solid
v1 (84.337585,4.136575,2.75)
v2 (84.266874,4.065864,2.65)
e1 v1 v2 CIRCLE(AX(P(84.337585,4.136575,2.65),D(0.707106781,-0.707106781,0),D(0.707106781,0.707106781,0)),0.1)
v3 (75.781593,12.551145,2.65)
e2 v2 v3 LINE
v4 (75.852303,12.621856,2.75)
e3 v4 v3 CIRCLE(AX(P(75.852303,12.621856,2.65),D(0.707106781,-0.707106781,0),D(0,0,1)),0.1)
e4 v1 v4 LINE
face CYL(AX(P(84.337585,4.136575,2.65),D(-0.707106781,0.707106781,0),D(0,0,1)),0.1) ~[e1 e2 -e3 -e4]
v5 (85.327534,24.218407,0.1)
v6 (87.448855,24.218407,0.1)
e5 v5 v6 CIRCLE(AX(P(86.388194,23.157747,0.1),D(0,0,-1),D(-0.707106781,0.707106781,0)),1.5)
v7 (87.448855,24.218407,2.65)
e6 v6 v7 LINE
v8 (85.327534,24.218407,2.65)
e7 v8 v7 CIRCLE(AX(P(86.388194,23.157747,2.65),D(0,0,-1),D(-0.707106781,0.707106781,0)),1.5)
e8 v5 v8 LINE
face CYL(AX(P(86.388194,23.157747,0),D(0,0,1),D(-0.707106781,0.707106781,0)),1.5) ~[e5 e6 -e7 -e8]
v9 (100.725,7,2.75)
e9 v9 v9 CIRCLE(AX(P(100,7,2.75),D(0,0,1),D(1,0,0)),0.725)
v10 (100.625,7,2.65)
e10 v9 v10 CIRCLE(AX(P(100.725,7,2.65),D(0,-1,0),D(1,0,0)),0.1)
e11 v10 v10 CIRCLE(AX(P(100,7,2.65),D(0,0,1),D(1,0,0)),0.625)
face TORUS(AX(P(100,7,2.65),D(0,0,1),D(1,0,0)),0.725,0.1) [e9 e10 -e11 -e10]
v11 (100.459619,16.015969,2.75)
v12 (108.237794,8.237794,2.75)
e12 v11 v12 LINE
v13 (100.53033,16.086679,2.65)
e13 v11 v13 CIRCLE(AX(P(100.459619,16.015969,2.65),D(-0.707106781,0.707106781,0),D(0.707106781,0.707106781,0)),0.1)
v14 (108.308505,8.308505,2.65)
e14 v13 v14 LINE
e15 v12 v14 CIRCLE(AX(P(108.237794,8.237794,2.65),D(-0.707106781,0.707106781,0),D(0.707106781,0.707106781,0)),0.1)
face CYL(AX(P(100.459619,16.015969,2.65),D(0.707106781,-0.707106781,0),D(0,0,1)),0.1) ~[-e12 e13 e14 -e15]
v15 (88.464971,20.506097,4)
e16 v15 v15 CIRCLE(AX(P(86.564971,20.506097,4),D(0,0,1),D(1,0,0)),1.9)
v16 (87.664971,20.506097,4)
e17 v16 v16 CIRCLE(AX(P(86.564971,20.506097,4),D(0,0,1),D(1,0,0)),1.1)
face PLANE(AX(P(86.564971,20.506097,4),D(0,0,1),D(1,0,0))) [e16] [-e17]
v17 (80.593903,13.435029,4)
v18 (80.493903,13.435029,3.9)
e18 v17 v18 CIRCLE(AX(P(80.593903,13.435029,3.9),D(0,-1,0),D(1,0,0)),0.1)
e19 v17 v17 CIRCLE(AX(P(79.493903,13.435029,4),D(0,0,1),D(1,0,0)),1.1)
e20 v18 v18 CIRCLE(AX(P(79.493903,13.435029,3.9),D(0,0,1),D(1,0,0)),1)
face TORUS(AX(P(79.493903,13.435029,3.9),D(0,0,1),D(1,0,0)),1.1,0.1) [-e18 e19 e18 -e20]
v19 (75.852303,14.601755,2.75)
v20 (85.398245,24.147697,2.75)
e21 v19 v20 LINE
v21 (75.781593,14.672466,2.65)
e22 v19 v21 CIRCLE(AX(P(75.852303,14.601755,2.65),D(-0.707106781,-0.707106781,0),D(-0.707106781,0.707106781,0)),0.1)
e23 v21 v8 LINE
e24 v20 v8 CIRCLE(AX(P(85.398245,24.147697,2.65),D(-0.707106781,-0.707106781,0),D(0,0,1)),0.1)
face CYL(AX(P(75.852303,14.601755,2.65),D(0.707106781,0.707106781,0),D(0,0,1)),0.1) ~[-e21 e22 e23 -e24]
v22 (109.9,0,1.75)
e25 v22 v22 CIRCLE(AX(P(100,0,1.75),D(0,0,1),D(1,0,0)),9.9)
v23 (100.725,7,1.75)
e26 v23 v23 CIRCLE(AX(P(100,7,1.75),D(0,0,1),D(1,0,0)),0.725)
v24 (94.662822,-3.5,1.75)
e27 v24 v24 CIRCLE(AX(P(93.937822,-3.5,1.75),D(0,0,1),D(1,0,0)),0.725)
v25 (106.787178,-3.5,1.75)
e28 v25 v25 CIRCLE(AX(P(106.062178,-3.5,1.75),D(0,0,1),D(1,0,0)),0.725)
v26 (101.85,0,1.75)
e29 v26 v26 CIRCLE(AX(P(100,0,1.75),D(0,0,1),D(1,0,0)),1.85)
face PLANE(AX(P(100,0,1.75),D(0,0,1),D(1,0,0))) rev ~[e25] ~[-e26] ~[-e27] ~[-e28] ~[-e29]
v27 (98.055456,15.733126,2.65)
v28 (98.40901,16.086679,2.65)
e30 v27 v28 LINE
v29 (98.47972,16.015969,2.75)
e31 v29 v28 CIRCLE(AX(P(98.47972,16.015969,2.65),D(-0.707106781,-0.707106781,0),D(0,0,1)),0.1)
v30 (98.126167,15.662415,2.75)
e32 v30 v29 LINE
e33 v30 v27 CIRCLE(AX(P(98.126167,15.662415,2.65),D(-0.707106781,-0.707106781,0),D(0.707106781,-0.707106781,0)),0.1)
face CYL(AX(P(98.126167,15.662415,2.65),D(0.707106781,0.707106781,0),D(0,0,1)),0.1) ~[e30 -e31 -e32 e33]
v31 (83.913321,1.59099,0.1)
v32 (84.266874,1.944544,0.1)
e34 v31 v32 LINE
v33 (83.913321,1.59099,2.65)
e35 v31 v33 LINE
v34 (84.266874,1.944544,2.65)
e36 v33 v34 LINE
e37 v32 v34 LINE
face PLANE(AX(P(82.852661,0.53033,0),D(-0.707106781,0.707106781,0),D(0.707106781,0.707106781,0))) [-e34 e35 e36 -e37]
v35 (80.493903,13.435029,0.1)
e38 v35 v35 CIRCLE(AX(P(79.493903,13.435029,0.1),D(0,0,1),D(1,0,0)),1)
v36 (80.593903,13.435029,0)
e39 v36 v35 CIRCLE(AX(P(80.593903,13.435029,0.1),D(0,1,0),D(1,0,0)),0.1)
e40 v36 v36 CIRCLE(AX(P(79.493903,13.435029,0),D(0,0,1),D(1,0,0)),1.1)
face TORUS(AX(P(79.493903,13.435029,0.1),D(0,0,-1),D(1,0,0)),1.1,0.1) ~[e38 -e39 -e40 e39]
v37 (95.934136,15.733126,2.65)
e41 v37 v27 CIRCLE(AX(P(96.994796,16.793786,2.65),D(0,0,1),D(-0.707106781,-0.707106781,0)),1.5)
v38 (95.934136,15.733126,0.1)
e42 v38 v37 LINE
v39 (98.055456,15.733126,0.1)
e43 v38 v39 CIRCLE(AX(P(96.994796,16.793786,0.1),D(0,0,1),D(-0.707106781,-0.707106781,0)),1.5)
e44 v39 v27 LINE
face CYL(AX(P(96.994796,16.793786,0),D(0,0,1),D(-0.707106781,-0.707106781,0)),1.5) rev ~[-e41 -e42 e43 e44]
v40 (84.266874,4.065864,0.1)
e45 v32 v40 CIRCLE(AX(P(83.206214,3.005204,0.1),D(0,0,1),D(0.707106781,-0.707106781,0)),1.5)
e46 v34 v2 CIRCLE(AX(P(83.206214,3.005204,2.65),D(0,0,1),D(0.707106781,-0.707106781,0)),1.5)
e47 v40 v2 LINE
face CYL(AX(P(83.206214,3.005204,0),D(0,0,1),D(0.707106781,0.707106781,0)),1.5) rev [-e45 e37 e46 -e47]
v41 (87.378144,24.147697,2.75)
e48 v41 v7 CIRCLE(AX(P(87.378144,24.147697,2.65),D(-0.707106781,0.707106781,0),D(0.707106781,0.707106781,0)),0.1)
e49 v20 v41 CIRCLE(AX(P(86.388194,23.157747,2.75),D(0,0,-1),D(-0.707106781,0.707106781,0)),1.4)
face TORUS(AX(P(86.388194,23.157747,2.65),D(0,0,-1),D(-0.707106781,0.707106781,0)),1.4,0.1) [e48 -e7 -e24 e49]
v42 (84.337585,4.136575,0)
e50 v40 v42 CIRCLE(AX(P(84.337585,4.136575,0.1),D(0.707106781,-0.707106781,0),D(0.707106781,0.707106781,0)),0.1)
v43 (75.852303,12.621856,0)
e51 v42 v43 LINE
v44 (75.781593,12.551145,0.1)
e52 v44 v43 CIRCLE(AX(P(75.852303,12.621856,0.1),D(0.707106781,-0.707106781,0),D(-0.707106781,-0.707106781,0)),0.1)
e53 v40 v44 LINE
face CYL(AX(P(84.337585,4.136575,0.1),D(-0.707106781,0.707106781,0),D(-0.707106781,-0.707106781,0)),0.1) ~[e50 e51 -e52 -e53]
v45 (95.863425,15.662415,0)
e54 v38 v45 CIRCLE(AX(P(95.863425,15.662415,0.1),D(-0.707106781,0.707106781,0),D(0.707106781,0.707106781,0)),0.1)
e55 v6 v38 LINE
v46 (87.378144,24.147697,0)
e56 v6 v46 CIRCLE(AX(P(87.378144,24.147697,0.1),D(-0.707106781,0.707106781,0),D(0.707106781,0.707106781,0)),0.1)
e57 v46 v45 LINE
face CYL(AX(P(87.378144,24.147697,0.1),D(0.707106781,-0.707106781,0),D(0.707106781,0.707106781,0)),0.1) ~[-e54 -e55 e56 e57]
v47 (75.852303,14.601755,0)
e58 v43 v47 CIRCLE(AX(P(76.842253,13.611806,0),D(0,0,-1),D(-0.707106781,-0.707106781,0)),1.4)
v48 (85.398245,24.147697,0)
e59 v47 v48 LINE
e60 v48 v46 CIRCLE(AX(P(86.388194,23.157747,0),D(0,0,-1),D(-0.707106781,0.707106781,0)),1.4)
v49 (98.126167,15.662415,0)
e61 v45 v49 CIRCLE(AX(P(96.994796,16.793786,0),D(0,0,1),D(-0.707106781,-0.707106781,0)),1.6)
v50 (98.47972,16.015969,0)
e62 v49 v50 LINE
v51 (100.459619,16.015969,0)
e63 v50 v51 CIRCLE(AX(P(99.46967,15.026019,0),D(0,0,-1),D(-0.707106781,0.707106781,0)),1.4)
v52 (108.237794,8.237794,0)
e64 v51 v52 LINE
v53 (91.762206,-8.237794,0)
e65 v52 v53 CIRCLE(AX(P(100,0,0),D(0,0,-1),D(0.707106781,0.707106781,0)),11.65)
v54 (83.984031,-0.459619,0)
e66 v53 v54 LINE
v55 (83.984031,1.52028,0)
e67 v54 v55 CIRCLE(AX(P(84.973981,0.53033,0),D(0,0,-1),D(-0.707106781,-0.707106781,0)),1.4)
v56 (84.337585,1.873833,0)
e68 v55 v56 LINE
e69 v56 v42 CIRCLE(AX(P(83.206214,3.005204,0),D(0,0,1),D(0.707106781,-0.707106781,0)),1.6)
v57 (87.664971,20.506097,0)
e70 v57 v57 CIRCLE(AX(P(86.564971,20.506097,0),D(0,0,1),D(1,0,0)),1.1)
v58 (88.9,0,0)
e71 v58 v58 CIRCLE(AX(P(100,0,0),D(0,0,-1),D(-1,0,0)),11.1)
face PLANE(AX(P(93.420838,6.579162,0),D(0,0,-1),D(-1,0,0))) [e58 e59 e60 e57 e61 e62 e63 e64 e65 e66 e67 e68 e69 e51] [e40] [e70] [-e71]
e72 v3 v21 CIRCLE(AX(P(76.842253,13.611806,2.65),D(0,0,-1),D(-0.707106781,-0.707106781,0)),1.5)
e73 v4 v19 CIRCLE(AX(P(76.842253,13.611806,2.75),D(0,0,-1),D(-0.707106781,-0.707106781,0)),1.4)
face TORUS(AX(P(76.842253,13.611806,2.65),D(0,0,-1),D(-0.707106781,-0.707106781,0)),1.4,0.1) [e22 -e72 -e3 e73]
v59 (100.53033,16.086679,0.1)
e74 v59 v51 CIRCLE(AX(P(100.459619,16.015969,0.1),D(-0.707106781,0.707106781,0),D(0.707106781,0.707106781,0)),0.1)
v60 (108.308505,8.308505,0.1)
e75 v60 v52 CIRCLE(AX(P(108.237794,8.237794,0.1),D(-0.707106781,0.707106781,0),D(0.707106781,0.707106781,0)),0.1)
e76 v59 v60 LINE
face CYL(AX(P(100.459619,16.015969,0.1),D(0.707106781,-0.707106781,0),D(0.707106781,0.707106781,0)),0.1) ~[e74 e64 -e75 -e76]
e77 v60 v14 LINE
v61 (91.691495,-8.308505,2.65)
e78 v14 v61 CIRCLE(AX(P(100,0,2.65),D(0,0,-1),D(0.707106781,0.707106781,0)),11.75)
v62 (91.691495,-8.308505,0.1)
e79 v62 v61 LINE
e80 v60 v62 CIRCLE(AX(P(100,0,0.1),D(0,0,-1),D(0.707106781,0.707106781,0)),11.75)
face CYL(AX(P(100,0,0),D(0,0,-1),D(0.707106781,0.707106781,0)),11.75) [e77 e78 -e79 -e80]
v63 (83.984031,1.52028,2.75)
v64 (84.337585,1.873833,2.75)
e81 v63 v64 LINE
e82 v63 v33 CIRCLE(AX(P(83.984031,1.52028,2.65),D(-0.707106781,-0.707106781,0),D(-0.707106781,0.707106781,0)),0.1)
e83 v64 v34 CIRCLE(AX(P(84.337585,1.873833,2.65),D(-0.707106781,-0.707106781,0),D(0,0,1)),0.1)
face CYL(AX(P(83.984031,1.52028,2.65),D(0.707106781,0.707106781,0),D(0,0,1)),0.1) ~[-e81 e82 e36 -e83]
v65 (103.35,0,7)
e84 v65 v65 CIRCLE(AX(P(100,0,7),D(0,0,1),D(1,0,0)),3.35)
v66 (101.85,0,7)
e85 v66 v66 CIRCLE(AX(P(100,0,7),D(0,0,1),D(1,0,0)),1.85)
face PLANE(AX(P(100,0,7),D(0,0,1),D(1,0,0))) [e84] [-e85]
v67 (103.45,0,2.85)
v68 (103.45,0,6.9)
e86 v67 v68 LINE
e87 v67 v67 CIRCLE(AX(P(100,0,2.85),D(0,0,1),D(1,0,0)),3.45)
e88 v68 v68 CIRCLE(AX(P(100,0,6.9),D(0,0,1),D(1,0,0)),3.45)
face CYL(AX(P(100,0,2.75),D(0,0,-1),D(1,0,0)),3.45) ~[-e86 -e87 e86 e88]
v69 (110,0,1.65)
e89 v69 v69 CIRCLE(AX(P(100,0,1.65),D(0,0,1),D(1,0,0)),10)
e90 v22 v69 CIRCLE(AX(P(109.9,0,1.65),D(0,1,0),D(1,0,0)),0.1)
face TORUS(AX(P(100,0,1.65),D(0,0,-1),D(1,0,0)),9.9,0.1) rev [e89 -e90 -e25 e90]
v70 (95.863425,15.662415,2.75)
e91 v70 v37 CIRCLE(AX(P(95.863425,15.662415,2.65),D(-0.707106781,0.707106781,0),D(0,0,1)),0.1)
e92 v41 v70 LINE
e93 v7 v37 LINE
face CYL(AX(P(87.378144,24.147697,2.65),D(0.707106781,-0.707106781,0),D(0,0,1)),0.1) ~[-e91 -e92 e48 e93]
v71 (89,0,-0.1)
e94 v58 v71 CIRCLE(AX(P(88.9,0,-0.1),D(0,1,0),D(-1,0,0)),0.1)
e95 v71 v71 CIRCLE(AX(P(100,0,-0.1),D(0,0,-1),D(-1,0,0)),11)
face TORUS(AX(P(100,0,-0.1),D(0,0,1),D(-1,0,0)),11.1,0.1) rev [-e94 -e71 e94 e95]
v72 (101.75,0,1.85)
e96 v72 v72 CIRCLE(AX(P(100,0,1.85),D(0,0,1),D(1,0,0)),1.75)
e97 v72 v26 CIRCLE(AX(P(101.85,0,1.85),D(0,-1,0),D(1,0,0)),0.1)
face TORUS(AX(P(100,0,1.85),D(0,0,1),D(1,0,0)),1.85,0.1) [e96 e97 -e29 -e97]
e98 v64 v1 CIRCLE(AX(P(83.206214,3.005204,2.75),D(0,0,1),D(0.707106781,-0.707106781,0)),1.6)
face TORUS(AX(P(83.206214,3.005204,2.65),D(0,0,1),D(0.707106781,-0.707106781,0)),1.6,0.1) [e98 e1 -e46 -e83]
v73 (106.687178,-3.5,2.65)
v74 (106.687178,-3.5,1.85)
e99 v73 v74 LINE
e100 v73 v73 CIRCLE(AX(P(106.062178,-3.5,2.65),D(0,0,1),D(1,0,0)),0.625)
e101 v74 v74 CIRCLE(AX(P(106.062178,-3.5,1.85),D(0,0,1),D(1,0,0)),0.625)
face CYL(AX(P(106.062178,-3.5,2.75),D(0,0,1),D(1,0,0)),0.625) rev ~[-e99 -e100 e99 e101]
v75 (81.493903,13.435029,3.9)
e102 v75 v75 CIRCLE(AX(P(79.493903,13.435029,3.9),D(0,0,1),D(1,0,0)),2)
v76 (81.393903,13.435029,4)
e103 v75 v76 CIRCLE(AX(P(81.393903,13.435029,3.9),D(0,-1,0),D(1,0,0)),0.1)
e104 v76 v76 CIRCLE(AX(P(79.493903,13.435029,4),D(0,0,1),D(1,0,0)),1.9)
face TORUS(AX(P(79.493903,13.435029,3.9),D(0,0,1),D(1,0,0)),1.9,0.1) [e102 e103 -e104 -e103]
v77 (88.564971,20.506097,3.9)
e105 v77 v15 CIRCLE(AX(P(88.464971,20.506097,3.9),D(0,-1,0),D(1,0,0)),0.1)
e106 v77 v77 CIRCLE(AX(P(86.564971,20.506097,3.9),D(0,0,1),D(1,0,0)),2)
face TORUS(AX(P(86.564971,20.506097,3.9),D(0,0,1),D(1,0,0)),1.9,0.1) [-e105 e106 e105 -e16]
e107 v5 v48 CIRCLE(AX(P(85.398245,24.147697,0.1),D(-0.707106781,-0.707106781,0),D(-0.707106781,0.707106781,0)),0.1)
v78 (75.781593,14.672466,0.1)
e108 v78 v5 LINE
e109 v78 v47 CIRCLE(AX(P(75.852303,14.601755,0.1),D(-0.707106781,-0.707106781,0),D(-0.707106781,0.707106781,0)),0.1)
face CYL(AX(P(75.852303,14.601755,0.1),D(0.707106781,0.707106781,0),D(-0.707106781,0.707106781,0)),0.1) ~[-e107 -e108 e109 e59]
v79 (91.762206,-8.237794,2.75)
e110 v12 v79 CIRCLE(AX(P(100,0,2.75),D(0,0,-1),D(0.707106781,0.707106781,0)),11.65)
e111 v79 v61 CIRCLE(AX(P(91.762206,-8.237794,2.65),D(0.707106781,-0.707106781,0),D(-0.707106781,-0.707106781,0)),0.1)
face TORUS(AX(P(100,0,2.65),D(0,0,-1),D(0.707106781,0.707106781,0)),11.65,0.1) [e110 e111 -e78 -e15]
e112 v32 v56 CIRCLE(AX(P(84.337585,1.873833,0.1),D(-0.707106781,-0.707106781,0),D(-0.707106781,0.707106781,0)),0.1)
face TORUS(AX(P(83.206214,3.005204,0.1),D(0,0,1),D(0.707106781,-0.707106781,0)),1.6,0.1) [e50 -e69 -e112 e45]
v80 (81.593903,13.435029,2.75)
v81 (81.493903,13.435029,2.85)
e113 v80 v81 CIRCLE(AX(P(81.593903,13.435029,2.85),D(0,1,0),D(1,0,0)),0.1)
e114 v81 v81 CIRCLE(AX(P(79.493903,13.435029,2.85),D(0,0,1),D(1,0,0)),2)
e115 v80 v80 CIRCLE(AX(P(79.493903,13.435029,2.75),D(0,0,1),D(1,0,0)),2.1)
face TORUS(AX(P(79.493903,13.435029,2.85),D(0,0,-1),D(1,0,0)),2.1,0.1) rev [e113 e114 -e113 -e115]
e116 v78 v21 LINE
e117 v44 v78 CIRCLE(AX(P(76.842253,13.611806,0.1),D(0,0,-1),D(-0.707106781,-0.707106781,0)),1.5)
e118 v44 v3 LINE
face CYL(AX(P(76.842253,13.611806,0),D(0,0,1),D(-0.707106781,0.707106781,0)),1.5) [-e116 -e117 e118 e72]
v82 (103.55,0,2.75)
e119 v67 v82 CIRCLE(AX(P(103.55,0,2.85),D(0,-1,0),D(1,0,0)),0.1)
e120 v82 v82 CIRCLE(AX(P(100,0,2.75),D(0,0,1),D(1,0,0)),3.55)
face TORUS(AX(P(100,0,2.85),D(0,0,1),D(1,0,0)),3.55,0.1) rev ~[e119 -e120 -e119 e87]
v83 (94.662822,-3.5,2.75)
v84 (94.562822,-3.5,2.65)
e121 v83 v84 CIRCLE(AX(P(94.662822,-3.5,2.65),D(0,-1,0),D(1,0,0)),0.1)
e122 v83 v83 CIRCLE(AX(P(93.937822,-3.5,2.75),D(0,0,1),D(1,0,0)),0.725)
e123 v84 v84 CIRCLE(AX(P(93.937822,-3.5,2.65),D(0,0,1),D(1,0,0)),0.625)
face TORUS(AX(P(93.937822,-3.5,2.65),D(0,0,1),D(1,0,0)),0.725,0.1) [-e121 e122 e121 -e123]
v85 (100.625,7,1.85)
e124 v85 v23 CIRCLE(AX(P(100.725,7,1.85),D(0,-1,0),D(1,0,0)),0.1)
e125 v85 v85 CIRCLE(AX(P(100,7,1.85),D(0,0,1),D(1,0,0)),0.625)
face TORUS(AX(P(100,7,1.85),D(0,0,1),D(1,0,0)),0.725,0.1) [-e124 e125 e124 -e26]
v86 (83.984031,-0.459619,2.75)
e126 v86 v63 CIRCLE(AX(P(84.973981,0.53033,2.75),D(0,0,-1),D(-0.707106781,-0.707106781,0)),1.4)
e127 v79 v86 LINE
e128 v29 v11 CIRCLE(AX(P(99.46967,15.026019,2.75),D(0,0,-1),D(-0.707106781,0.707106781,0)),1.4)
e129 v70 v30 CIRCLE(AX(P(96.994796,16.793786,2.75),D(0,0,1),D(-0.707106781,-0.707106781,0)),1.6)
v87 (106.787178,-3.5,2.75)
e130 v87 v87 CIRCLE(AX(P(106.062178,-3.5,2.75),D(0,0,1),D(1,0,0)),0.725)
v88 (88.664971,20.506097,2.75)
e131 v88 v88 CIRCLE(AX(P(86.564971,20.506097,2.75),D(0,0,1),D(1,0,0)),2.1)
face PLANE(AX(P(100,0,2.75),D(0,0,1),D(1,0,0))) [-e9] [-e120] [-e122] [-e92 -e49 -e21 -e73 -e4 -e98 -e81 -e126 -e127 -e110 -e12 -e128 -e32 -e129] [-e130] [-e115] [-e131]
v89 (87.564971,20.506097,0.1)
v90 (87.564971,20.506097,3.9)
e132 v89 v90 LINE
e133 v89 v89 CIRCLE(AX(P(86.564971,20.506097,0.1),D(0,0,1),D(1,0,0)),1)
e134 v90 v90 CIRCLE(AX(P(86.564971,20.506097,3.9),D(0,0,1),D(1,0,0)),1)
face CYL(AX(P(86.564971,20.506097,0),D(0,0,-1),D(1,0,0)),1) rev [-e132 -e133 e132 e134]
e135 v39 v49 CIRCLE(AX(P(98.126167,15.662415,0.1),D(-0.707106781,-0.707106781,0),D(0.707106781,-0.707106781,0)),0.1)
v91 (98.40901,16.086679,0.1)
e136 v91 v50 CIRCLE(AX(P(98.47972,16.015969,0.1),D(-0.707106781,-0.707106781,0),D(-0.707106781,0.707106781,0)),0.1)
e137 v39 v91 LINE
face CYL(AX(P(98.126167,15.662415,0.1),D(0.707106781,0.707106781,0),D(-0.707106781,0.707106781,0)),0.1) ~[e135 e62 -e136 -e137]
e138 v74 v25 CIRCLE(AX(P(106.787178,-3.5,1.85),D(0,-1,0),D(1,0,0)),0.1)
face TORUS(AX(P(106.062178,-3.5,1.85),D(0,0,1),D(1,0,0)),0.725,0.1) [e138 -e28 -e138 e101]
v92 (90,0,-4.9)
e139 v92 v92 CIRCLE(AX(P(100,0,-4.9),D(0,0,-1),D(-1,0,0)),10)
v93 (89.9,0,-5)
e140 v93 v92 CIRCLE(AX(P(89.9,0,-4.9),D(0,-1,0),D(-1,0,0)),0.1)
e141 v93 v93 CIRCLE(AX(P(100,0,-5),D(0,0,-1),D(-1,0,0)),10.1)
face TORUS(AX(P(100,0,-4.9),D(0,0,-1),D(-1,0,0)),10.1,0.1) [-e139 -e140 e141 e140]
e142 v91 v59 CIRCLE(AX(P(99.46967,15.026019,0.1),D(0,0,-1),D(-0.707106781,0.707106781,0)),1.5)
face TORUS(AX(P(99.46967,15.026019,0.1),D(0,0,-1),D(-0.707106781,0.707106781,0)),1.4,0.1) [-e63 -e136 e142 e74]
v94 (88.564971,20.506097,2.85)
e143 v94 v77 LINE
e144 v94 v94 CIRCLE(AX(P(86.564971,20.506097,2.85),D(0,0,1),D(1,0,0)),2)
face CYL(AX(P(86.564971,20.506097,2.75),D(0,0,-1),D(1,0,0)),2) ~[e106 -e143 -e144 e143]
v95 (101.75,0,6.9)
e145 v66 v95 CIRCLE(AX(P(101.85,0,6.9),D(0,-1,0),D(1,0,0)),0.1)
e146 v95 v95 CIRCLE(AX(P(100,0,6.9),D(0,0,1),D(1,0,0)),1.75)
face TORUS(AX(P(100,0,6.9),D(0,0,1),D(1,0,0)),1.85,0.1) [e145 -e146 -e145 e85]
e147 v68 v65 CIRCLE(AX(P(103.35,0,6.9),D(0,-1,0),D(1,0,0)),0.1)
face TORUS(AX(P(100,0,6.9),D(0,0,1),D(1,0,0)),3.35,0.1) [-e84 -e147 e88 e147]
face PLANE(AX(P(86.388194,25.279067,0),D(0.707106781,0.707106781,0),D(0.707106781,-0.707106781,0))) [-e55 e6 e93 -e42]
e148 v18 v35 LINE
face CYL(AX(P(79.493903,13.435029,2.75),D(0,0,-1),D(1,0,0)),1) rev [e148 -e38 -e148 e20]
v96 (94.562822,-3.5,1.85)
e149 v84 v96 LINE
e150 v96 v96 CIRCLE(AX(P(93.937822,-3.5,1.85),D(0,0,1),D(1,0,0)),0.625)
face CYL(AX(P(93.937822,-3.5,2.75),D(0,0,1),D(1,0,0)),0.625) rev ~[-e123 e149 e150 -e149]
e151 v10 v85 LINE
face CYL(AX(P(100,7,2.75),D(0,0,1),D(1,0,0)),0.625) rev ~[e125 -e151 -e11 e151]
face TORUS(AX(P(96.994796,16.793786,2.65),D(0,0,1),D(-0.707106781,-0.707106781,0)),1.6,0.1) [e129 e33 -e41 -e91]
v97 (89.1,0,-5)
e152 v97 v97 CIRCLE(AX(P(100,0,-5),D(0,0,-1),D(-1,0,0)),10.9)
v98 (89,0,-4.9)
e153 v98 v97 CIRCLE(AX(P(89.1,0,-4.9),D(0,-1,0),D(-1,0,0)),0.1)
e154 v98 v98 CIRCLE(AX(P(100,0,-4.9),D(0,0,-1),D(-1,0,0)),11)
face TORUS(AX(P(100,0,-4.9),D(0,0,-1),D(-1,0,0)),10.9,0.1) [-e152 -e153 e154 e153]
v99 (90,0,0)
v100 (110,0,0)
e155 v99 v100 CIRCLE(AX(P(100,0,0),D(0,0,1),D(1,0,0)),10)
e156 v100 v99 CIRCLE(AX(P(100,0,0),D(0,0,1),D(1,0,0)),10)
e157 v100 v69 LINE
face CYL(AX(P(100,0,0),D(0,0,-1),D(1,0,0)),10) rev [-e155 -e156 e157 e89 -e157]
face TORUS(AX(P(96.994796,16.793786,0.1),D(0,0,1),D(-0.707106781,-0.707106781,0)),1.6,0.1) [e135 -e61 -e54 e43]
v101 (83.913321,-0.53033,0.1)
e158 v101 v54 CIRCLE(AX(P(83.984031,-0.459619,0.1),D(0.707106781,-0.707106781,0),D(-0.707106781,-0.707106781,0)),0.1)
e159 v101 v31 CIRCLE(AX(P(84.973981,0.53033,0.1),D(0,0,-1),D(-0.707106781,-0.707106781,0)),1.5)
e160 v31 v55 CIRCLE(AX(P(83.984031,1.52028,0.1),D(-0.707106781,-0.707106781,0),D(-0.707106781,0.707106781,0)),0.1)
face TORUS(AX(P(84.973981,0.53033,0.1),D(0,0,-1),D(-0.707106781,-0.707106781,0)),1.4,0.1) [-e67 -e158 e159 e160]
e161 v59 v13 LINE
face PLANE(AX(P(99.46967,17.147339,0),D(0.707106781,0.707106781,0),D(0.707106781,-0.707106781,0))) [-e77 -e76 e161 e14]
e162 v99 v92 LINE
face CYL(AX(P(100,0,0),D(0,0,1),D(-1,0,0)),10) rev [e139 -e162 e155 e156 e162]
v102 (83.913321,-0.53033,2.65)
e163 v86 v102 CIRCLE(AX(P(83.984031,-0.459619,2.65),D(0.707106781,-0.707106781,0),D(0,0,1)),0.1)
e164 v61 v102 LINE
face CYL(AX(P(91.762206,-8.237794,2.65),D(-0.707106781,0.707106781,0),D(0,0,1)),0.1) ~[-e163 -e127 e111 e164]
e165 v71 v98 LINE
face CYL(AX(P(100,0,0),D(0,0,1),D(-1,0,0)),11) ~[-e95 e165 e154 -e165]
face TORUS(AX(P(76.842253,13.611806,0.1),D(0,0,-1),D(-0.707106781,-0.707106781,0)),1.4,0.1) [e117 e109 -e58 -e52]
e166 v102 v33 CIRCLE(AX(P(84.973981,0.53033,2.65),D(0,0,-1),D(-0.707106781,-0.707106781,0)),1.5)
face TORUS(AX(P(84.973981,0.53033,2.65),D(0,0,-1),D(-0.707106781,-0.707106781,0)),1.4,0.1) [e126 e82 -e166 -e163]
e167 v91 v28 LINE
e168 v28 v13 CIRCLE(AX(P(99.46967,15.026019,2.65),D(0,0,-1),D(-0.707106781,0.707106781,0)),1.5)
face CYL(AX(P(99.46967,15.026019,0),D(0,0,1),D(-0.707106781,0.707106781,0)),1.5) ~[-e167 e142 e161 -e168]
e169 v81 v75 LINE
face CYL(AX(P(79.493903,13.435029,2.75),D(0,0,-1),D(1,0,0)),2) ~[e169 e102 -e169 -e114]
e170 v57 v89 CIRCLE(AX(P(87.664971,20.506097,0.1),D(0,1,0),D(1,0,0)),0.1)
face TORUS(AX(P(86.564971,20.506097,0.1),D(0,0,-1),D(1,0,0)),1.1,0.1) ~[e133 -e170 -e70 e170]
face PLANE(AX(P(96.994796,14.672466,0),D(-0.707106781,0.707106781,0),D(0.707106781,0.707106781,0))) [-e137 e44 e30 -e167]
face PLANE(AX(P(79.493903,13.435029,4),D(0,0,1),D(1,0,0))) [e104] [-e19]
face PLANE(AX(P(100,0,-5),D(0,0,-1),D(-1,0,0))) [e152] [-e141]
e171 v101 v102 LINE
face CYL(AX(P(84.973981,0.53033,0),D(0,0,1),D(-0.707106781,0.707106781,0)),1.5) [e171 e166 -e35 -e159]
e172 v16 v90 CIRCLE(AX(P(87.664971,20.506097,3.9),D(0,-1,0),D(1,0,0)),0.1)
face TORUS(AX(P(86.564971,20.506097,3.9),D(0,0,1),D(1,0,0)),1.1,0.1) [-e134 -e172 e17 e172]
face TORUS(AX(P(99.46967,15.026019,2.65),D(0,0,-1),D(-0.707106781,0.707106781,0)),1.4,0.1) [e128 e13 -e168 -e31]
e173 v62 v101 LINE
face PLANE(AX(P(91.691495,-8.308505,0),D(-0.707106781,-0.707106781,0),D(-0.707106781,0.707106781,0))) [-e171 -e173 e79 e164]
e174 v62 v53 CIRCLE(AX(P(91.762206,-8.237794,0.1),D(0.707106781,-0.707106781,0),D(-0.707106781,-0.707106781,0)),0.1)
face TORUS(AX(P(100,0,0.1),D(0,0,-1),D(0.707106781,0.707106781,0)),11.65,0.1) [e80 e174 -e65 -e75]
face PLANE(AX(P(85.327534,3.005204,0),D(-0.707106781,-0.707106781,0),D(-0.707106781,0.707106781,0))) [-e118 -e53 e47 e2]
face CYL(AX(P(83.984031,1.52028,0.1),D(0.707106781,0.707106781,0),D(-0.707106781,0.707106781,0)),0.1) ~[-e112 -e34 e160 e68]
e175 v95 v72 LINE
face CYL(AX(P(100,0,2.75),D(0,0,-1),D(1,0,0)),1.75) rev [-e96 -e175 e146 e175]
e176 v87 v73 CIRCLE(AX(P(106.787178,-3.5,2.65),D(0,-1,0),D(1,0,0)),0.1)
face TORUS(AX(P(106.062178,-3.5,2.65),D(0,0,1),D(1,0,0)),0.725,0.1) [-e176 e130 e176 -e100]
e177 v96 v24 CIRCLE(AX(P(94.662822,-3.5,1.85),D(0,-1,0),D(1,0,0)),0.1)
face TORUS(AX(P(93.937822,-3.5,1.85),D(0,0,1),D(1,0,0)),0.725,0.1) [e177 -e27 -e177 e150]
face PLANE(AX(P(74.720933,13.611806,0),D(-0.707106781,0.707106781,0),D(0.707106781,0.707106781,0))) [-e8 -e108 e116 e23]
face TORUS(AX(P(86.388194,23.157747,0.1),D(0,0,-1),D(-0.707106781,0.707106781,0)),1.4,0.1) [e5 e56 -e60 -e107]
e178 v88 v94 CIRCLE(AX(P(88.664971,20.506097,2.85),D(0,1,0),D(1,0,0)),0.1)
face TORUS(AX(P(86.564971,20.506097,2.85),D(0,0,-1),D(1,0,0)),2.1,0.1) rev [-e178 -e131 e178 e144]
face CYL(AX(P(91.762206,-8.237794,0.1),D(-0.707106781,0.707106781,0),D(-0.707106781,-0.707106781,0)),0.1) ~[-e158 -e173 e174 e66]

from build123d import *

# Parameters (mm, degrees)
SKETCH6_R           = 10
SKETCH6_R_2         = 1
BOSS_EXTRUDE1_DEPTH = 2.75
SKETCH7_R           = 10
BOSS_EXTRUDE2_DEPTH = 1
SKETCH8_R           = 11
SKETCH8_R_2         = 10
BOSS_EXTRUDE3_DEPTH = 5
FILLET1_R           = 1.5
SKETCH9_R           = 2
SKETCH9_R_2         = 1
BOSS_EXTRUDE4_DEPTH = 1.25
SKETCH12_R          = 1.75
CUT_EXTRUDE1_DEPTH  = 1
SKETCH13_R          = 3.45
SKETCH13_R_2        = 1.75
BOSS_EXTRUDE6_DEPTH = 4.25
SKETCH14_R          = 0.625
CUT_EXTRUDE2_DEPTH  = 1
FILLET3_R           = 0.1


with BuildPart() as part:
    # Sketch6 → Boss-Extrude1 (new body)
    with BuildSketch(Plane.XY):
        with BuildLine():
            Line((74.720932573, 13.611805538), (86.388194462, 25.279067427))
            Line((86.388194462, 25.279067427), (96.99479618, 14.67246571))
            Line((96.99479618, 14.67246571), (99.469669914, 17.147339444))
            Line((99.469669914, 17.147339444), (108.308504679, 8.308504679))
            ThreePointArc((108.308504679, 8.308504679), (108.308504679, -8.308504679), (91.691495321, -8.308504679))
            Line((91.691495321, -8.308504679), (82.852660556, 0.530330086))
            Line((82.852660556, 0.530330086), (85.32753429, 3.00520382))
            Line((85.32753429, 3.00520382), (74.720932573, 13.611805538))
        make_face()
        with Locations((100, 0)):
            Circle(SKETCH6_R, mode=Mode.SUBTRACT)
        with Locations((86.564971157, 20.506096654)):
            Circle(SKETCH6_R_2, mode=Mode.SUBTRACT)
        with Locations((79.493903346, 13.435028843)):
            Circle(SKETCH6_R_2, mode=Mode.SUBTRACT)
    extrude(amount=BOSS_EXTRUDE1_DEPTH)

    # Sketch7 → Boss-Extrude2 (add)
    with BuildSketch(Plane.XY.offset(2.75)):
        with Locations((100, 0)):
            Circle(SKETCH7_R)
    extrude(amount=-BOSS_EXTRUDE2_DEPTH)

    # Sketch8 → Boss-Extrude3 (add)
    with BuildSketch(Plane(origin=(0, 0, 0), x_dir=(-1, 0, 0), z_dir=(0, 0, -1))):
        with Locations((-100, 0)):
            Circle(SKETCH8_R)
        with Locations((-100, 0)):
            Circle(SKETCH8_R_2, mode=Mode.SUBTRACT)
    extrude(amount=BOSS_EXTRUDE3_DEPTH)

    # Fillet1
    fillet1_edges = [part.edges().sort_by_distance(p)[0] for p in [
        (74.720932573, 13.611805538, 1.375),
        (86.388194462, 25.279067427, 1.375),
        (96.99479618, 14.67246571, 1.375),
        (99.469669914, 17.147339444, 1.375),
        (82.852660556, 0.530330086, 1.375),
        (85.32753429, 3.00520382, 1.375),
    ]]
    fillet(fillet1_edges, radius=FILLET1_R)

    # Sketch9 → Boss-Extrude4 (add)
    with BuildSketch(Plane.XY.offset(2.75)):
        with Locations((79.493903346, 13.435028843)):
            Circle(SKETCH9_R)
        with Locations((79.493903346, 13.435028843)):
            Circle(SKETCH9_R_2, mode=Mode.SUBTRACT)
        with Locations((86.564971157, 20.506096654)):
            Circle(SKETCH9_R)
        with Locations((86.564971157, 20.506096654)):
            Circle(SKETCH9_R_2, mode=Mode.SUBTRACT)
    extrude(amount=BOSS_EXTRUDE4_DEPTH)

    # Sketch12 → Cut-Extrude1 (cut)
    with BuildSketch(Plane.XY.offset(2.75)):
        with Locations((100, 0)):
            Circle(SKETCH12_R)
    extrude(amount=-CUT_EXTRUDE1_DEPTH, mode=Mode.SUBTRACT)

    # Sketch13 → Boss-Extrude6 (add)
    with BuildSketch(Plane.XY.offset(2.75)):
        with Locations((100, 0)):
            Circle(SKETCH13_R)
        with Locations((100, 0)):
            Circle(SKETCH13_R_2, mode=Mode.SUBTRACT)
    extrude(amount=BOSS_EXTRUDE6_DEPTH)

    # Sketch14 → Cut-Extrude2 (cut)
    with BuildSketch(Plane.XY.offset(2.75)):
        with Locations((100, 7)):
            Circle(SKETCH14_R)
        with Locations((106.062177826, -3.5)):
            Circle(SKETCH14_R)
        with Locations((93.937822174, -3.5)):
            Circle(SKETCH14_R)
    extrude(amount=-CUT_EXTRUDE2_DEPTH, mode=Mode.SUBTRACT)

    # Fillet3
    fillet3_edges = [part.edges().sort_by_distance(p)[0] for p in [
        (108.308504679, -8.308504679, 0),
        (98.25, 0, 1.75),
        (96.55, 0, 7),
        (96.55, 0, 2.75),
        (98.25, 0, 7),
        (99.375, 7, 2.75),
        (99.375, 7, 1.75),
        (105.437177826, -3.5, 2.75),
        (105.437177826, -3.5, 1.75),
        (93.312822174, -3.5, 2.75),
        (93.312822174, -3.5, 1.75),
        (108.308504679, -8.308504679, 2.75),
        (104.419417382, 12.197591975, 2.75),
        (85.564971157, 20.506096654, 0),
        (78.493903346, 13.435028843, 0),
        (90, 0, 1.75),
        (111, 0, 0),
        (111, 0, -5),
        (110, 0, -5),
        (80.024233431, 8.308504679, 0),
        (80.024233431, 8.308504679, 2.75),
        (80.554563517, 19.445436483, 0),
        (91.691495321, 19.975766569, 0),
        (98.232233047, 15.909902577, 0),
        (87.802408025, -4.419417382, 0),
        (84.090097423, 1.767766953, 0),
        (86.388194462, 24.657747084, 0),
        (83.4739809, 0.530330086, 0),
        (99.469669914, 16.5260191, 0),
        (75.342252916, 13.611805538, 0),
        (80.554563517, 19.445436483, 2.75),
        (84.090097423, 1.767766953, 2.75),
        (87.802408025, -4.419417382, 2.75),
        (98.232233047, 15.909902577, 2.75),
        (91.691495321, 19.975766569, 2.75),
        (86.388194462, 24.657747084, 2.75),
        (83.4739809, 0.530330086, 2.75),
        (99.469669914, 16.5260191, 2.75),
        (75.342252916, 13.611805538, 2.75),
        (96.99479618, 15.293786053, 0),
        (96.99479618, 15.293786053, 2.75),
        (84.706213947, 3.00520382, 0),
        (84.706213947, 3.00520382, 2.75),
        (77.493903346, 13.435028843, 4),
        (77.493903346, 13.435028843, 2.75),
        (78.493903346, 13.435028843, 4),
        (84.564971157, 20.506096654, 4),
        (104.419417382, 12.197591975, 0),
        (84.564971157, 20.506096654, 2.75),
        (85.564971157, 20.506096654, 4),
    ]]
    fillet(fillet3_edges, radius=FILLET3_R)


solid = part.part
